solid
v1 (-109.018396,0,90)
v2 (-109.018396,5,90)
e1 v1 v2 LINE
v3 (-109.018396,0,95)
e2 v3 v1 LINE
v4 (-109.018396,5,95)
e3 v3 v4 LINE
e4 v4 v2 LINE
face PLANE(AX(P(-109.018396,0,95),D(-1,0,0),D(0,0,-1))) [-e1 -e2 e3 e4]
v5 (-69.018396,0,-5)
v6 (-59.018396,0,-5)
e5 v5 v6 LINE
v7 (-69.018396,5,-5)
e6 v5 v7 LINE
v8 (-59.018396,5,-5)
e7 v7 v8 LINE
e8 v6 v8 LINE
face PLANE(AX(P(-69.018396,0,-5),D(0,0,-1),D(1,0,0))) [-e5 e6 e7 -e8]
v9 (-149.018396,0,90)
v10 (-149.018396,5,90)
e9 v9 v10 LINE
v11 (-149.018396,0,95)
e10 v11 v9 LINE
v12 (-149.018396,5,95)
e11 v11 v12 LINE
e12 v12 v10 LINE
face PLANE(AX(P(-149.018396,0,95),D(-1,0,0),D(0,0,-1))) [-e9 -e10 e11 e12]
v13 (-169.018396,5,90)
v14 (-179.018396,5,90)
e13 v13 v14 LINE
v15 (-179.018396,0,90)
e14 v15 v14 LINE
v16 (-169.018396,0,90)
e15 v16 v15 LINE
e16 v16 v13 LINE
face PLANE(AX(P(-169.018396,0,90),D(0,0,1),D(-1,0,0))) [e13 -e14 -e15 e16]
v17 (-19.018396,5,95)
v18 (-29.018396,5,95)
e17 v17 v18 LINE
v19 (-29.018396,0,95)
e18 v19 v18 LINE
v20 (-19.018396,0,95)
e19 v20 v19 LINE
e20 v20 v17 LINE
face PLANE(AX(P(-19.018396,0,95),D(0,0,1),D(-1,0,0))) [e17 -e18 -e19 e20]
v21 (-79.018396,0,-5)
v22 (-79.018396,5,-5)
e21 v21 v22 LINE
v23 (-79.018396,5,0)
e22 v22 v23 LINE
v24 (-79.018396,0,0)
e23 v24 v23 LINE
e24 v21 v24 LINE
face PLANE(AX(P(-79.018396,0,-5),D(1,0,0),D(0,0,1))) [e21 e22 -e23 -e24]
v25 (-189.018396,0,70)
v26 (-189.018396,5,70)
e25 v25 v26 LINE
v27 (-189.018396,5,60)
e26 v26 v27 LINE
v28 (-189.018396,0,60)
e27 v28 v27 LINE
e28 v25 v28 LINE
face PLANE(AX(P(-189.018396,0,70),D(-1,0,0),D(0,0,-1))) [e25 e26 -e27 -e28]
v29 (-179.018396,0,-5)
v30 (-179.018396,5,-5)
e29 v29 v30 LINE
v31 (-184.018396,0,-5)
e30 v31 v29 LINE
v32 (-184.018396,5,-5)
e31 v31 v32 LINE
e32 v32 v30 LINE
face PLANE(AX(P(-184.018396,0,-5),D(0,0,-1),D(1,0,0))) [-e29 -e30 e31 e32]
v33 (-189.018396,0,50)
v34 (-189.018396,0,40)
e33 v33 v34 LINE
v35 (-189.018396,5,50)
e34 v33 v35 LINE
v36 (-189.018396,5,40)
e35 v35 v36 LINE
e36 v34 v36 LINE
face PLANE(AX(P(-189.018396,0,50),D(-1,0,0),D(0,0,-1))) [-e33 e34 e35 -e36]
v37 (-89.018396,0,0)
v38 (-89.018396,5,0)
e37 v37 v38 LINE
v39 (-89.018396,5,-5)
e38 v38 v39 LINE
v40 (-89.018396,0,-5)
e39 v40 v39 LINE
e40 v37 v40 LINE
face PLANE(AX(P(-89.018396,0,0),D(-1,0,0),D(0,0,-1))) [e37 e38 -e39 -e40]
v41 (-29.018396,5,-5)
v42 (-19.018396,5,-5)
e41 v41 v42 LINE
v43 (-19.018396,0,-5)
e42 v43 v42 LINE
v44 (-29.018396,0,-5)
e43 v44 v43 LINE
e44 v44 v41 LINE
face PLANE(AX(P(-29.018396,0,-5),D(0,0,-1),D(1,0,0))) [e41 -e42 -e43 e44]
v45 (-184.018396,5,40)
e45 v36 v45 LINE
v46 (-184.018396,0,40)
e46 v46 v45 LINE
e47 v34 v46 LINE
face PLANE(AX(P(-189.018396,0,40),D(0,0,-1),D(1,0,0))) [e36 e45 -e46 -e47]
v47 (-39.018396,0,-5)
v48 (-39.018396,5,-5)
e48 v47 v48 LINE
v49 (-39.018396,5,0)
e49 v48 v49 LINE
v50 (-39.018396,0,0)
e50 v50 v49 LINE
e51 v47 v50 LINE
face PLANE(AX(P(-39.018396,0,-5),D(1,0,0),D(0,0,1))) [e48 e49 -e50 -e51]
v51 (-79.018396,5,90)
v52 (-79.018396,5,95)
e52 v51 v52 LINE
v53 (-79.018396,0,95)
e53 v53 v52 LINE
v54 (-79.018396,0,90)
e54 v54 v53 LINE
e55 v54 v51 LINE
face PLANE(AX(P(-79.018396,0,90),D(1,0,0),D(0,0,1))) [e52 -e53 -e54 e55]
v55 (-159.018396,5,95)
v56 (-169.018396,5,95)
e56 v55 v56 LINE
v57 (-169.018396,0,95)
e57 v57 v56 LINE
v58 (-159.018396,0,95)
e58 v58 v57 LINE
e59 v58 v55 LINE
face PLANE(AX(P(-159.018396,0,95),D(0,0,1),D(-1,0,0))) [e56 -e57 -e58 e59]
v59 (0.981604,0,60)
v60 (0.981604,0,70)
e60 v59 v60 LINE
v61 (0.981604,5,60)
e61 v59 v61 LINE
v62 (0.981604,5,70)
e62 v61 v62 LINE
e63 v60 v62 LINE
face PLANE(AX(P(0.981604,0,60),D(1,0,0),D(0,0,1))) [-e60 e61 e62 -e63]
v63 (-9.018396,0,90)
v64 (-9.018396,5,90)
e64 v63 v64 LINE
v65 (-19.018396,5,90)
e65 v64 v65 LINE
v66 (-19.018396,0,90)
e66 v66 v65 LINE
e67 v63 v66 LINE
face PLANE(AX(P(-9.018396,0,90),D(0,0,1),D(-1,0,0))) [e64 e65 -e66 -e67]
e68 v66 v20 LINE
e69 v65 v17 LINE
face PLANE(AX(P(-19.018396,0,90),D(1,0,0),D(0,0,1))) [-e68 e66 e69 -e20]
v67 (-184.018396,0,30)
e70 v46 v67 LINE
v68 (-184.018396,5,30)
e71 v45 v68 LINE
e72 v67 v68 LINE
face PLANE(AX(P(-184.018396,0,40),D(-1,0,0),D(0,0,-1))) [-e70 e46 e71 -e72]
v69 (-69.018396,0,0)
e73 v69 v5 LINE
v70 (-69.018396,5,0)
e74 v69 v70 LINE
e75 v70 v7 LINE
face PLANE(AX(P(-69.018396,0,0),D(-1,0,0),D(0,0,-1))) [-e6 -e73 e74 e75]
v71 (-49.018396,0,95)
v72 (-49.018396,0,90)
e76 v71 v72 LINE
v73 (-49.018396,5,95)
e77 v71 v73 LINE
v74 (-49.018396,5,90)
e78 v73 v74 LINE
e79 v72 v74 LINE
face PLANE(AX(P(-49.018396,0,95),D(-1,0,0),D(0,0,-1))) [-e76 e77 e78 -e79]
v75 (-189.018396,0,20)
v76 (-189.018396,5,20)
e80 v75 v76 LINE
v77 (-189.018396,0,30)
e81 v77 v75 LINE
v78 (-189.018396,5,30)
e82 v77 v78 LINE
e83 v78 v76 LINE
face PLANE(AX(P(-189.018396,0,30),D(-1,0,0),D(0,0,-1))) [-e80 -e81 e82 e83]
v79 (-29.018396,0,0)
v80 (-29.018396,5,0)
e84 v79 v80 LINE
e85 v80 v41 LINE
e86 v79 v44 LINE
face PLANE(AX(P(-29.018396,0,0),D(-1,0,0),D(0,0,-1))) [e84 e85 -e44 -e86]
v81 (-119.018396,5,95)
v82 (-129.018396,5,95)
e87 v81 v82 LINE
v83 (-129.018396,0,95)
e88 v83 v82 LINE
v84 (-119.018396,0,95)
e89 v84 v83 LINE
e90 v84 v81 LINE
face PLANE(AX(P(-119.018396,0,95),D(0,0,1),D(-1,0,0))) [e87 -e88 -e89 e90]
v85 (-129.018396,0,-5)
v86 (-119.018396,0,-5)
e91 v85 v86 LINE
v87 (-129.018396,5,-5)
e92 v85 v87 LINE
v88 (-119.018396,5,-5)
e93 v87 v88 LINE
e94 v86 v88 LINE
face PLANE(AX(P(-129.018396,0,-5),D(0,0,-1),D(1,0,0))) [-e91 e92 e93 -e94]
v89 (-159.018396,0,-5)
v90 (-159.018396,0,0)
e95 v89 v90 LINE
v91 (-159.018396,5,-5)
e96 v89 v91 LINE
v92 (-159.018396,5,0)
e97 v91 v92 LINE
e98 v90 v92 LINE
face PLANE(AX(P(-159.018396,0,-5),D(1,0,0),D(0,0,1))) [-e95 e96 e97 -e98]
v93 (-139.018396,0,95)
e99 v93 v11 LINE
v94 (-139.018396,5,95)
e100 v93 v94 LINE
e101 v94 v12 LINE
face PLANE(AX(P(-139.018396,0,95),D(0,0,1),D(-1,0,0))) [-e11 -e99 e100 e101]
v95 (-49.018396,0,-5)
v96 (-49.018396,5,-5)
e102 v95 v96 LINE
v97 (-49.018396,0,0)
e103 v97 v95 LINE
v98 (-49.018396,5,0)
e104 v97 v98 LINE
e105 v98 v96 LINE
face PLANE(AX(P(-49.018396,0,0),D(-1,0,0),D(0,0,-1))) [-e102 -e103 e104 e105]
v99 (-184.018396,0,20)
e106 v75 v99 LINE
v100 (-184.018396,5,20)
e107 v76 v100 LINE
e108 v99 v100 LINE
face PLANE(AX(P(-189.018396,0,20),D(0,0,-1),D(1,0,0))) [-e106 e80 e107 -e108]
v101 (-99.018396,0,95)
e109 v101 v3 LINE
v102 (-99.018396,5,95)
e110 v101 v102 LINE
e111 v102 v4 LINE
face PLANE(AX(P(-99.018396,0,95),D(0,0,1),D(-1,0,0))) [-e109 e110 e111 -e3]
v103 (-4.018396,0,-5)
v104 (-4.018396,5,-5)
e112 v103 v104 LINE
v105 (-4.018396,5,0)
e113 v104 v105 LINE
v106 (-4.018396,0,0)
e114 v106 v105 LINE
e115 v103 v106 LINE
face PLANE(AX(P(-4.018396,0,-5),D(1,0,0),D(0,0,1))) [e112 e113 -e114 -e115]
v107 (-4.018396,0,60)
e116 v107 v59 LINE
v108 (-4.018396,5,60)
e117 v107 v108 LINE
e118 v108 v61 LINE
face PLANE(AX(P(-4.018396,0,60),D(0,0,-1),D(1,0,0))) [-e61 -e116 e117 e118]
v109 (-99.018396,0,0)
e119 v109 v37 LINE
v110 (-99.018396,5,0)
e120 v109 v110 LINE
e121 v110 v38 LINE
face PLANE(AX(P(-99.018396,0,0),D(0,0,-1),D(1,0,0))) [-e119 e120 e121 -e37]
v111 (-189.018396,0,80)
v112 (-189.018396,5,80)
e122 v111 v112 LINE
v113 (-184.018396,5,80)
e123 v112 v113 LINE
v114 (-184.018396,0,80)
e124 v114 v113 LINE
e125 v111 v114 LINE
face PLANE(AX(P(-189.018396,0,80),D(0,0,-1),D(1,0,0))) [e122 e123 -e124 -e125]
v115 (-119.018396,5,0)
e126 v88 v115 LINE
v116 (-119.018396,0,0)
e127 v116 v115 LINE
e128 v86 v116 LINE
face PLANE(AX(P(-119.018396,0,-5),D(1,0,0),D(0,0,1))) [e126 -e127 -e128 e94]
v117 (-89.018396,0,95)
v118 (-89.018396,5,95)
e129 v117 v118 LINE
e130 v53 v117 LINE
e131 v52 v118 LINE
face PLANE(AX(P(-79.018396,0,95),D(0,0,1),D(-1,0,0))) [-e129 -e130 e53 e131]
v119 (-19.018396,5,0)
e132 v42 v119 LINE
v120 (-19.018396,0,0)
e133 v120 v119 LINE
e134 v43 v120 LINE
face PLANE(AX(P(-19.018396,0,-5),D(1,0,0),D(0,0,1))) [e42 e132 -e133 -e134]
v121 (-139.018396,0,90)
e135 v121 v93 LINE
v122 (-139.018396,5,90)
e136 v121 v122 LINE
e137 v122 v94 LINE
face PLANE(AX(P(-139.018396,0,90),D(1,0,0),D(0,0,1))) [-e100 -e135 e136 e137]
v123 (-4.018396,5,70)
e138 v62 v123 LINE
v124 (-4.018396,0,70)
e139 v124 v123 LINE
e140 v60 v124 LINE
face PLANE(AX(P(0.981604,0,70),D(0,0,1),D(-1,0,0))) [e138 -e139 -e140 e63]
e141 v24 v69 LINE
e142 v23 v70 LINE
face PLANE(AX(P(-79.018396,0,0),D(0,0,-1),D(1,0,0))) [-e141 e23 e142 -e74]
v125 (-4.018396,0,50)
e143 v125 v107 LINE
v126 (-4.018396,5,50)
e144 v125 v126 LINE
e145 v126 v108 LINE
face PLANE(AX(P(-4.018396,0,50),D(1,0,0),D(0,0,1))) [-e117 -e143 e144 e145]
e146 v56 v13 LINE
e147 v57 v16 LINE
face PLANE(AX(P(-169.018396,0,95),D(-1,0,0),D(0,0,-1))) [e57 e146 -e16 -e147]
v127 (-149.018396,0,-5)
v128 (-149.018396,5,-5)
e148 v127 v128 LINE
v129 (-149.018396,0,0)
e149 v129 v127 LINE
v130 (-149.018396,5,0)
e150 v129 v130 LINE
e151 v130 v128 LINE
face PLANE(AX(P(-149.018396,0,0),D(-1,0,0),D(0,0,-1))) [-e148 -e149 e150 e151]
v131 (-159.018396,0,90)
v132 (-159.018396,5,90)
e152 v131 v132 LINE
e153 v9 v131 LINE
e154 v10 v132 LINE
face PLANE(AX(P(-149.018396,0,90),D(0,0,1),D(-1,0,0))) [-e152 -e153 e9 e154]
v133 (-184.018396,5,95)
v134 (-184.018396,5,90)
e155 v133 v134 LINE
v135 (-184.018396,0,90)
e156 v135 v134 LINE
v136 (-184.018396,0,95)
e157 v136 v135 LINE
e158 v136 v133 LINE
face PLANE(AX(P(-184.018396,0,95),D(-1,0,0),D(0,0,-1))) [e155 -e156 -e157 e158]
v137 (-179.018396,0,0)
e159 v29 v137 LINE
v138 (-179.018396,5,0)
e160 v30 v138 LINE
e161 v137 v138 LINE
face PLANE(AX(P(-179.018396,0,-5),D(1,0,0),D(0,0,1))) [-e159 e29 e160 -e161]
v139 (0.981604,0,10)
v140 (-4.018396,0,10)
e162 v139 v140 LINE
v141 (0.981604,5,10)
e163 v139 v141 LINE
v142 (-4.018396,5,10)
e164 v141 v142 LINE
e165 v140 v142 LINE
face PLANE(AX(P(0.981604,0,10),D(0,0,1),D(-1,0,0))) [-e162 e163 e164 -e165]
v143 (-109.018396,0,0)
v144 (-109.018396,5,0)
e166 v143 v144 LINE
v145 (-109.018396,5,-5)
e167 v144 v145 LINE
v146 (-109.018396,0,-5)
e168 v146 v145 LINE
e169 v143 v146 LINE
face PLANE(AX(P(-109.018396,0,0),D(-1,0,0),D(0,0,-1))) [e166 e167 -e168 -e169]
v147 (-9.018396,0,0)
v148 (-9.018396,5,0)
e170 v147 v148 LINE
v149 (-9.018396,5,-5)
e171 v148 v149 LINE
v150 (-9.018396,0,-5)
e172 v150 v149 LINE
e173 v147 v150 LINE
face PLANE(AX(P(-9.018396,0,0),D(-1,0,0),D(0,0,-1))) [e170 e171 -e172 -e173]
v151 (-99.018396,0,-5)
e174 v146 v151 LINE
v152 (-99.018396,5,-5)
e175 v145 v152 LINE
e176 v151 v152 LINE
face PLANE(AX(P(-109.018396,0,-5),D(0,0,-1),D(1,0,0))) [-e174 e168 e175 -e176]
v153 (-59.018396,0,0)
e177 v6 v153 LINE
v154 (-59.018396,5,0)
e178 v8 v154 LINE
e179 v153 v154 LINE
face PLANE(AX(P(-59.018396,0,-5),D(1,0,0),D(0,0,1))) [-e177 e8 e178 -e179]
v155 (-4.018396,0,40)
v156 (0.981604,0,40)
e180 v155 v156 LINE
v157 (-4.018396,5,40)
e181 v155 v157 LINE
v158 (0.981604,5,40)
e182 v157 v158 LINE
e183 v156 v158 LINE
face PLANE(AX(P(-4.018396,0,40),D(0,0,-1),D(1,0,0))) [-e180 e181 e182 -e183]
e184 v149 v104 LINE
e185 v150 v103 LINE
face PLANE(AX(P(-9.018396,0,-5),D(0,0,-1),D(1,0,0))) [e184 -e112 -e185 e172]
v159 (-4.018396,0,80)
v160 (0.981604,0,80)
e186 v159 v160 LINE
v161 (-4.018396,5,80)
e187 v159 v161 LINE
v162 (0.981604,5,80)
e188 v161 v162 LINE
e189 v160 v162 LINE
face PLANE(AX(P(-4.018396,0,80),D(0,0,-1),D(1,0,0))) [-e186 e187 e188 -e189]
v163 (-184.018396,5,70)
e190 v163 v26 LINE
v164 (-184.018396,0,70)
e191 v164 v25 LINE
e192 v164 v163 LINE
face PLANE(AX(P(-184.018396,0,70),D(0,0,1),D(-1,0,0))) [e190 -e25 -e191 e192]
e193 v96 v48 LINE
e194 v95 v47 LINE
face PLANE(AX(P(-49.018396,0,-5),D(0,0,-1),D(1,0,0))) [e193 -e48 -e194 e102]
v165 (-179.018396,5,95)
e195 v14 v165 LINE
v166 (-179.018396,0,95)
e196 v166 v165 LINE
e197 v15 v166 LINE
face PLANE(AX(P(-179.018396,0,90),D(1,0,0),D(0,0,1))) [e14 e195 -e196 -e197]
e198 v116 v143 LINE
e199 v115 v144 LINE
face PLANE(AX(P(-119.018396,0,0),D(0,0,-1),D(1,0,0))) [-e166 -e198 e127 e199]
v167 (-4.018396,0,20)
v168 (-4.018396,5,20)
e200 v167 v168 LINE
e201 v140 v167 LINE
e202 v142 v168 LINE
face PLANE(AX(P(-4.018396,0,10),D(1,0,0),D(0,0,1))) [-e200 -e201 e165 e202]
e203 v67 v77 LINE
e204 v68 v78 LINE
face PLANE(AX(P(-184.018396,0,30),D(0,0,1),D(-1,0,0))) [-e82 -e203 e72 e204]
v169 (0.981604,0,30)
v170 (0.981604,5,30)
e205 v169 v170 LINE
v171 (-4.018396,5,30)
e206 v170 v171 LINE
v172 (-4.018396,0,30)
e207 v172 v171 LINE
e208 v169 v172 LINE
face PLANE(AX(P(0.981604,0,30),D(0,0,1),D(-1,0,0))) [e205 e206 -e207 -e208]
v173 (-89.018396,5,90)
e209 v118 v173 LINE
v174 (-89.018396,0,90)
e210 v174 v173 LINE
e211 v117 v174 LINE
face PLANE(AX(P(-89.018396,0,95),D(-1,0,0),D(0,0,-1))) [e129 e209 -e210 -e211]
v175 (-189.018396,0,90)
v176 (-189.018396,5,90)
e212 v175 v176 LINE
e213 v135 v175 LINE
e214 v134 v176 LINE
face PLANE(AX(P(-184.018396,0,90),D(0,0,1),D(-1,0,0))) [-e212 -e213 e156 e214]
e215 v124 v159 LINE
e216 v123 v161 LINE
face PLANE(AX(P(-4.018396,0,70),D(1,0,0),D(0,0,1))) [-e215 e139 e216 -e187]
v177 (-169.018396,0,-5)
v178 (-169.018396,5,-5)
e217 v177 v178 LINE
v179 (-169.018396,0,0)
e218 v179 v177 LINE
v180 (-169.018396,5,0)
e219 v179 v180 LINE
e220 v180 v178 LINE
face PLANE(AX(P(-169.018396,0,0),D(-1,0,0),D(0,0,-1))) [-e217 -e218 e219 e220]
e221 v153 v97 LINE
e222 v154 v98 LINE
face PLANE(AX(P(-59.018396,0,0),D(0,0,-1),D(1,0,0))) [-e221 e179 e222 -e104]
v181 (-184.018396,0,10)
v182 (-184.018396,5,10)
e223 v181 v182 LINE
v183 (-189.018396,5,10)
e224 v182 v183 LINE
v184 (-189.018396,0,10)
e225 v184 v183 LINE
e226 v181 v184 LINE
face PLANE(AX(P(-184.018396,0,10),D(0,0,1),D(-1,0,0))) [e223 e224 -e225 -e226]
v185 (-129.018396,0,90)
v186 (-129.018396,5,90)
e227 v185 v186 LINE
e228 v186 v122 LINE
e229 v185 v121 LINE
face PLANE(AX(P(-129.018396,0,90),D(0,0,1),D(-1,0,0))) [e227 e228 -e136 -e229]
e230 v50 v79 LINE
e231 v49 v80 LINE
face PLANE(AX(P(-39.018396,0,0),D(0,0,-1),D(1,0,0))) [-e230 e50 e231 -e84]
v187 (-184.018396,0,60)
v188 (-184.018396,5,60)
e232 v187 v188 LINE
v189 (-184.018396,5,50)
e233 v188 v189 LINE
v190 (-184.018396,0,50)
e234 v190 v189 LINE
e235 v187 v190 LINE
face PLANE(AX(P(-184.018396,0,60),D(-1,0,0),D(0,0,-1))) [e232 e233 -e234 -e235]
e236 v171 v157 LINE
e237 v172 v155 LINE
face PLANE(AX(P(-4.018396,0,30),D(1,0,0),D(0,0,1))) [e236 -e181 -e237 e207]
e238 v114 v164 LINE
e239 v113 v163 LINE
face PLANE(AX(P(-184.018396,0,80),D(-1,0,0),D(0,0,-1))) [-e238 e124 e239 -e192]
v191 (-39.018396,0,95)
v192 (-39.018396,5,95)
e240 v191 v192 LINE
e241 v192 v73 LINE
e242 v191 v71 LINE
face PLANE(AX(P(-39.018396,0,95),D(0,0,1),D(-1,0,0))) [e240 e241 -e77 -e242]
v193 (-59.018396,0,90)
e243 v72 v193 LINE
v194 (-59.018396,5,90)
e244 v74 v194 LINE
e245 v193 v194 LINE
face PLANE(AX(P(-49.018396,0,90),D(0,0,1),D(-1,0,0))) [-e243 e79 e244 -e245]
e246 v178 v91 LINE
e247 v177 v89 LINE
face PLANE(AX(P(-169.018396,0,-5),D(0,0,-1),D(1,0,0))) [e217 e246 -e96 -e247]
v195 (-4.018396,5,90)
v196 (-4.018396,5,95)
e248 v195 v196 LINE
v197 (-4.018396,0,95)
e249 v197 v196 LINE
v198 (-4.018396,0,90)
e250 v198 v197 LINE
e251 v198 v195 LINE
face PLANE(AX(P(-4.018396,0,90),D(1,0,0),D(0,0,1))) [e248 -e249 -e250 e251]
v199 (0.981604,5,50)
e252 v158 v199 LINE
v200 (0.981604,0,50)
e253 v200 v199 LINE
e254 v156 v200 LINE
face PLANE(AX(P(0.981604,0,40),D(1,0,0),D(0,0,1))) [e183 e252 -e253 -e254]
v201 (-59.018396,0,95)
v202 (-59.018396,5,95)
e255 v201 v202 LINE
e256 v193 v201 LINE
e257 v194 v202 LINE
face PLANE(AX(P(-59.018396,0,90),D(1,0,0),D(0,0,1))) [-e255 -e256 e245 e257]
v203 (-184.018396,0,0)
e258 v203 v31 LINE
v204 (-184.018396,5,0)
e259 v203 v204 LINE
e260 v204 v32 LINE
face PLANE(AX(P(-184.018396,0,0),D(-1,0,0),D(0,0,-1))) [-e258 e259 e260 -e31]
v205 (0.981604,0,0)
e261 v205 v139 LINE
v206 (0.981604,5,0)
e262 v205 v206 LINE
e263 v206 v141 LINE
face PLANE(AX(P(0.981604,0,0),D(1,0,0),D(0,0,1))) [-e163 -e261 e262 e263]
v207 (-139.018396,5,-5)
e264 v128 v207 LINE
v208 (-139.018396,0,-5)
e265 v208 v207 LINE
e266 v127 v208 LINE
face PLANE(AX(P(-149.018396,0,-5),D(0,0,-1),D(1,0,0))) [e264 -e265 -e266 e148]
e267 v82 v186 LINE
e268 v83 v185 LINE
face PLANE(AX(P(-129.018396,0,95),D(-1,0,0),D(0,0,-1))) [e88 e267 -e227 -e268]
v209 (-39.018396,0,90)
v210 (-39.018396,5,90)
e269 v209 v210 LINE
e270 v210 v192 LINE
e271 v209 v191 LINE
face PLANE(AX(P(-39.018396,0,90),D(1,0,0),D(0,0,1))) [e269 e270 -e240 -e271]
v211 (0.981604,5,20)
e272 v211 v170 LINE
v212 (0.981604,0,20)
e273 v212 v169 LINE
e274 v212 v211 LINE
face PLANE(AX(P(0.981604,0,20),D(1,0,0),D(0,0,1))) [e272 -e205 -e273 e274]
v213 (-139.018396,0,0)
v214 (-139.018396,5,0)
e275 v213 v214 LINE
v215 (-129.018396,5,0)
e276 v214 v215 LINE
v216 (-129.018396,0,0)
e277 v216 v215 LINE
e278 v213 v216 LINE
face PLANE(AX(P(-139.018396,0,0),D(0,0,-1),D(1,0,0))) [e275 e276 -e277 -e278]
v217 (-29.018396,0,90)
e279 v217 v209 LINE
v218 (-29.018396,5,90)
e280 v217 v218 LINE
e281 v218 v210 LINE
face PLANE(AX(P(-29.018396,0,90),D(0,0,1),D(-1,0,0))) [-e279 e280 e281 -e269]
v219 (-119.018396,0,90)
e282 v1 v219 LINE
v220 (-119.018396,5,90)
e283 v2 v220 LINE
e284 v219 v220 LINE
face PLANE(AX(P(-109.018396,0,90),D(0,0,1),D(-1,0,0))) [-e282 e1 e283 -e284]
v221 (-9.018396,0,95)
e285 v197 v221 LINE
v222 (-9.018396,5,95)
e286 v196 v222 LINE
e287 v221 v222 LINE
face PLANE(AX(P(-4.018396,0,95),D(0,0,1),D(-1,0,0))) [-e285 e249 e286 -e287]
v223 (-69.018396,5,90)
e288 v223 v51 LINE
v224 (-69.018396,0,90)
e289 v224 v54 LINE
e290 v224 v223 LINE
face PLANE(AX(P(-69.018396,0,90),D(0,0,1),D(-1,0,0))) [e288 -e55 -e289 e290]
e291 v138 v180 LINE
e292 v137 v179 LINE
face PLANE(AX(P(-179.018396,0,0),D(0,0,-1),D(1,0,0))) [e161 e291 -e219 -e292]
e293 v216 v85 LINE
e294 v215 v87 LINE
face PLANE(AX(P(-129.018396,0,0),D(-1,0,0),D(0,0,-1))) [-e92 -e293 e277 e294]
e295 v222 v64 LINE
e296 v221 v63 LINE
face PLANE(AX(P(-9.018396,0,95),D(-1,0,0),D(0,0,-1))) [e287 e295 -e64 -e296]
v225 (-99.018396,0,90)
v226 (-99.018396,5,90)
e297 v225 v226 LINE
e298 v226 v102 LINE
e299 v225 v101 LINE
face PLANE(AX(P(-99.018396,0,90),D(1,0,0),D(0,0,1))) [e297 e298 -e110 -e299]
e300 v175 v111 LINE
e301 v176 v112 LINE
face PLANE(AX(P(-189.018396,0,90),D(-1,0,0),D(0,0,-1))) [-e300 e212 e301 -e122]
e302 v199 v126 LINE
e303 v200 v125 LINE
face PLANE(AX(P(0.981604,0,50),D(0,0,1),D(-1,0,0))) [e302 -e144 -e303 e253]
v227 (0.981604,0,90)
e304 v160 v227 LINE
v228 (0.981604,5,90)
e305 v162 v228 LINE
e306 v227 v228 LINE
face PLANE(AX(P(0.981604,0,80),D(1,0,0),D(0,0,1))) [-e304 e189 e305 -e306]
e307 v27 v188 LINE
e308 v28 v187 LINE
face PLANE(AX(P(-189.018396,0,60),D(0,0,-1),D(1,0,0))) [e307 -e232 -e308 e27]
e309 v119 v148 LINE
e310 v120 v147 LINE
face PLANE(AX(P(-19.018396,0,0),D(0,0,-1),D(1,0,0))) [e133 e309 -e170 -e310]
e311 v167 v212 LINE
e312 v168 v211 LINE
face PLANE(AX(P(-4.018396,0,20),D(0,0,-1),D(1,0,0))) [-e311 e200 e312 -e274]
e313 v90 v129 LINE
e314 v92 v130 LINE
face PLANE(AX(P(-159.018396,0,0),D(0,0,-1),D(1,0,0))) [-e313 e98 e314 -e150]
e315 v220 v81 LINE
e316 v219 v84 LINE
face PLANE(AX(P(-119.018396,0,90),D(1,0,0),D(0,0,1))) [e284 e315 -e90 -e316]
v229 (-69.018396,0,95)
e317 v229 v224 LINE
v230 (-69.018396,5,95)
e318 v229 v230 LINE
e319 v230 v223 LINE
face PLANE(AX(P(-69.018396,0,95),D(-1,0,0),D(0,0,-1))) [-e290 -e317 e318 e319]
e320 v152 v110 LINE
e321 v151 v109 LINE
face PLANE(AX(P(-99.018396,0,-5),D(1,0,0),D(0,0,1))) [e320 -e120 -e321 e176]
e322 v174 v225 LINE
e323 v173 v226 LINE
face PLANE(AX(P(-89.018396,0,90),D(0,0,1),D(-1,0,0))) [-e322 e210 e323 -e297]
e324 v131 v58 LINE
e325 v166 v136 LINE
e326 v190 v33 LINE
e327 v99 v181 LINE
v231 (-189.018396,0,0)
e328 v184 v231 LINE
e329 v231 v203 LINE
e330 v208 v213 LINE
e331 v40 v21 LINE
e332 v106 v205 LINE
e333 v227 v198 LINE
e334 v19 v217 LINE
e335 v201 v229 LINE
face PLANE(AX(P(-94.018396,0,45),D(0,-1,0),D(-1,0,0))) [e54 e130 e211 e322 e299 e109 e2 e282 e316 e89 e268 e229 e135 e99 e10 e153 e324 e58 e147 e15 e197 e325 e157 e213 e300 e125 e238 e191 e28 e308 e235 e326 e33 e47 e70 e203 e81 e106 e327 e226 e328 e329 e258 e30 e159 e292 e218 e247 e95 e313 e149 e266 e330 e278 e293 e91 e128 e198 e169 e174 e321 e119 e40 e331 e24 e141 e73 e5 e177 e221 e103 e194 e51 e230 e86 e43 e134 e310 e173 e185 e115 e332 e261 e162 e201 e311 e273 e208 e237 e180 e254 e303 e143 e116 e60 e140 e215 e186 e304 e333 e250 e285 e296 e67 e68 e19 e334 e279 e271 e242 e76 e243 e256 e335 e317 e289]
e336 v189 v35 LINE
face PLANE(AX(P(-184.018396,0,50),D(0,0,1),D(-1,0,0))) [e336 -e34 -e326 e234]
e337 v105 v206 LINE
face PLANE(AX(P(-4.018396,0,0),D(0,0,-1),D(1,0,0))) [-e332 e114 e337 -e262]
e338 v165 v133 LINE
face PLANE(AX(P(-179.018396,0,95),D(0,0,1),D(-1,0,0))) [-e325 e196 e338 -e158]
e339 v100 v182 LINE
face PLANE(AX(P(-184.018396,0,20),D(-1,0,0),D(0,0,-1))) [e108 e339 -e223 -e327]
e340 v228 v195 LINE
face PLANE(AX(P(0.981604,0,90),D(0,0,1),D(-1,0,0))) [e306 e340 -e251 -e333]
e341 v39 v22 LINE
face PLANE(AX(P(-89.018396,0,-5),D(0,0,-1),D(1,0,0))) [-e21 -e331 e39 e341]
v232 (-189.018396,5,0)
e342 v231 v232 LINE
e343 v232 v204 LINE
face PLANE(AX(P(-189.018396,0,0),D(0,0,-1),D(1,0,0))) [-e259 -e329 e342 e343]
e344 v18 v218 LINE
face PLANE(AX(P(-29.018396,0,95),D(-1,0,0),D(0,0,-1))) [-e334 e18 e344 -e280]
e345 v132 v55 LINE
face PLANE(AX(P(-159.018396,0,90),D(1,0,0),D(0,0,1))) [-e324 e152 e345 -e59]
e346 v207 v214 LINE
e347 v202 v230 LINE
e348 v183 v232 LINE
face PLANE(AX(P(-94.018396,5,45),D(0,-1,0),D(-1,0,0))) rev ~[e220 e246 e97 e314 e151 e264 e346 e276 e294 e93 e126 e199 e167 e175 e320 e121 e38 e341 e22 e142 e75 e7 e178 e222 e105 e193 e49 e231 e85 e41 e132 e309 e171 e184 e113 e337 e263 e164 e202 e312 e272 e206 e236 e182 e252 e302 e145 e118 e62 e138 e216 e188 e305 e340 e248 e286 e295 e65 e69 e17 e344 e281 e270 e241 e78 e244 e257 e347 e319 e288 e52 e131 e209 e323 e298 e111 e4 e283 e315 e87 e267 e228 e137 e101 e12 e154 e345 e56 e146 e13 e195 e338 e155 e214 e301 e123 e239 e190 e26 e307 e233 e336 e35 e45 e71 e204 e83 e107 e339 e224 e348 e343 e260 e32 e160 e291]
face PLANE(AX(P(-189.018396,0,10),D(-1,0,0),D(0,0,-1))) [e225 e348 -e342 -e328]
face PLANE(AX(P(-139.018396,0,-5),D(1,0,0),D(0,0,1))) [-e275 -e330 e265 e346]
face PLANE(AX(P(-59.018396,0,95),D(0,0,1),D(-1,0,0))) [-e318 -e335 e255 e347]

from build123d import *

# Parameters (mm, degrees)
BOSS_EXTRUDE3_DEPTH = 5


with BuildPart() as part:
    # Sketch2 → Boss-Extrude3 (new body)
    with BuildSketch(Plane(origin=(0, 0, 0), x_dir=(1, 0, 0), z_dir=(0, 1, 0))):
        Polygon((-4.018396485, -10), (-4.018396485, -20), (0.981603515, -20), (0.981603515, -30), (-4.018396485, -30), (-4.018396485, -40), (0.981603515, -40), (0.981603515, -50), (-4.018396485, -50), (-4.018396485, -60), (0.981603515, -60), (0.981603515, -70), (-4.018396485, -70), (-4.018396485, -80), (0.981603515, -80), (0.981603515, -90), (-4.018396485, -90), (-4.018396485, -95), (-9.018396485, -95), (-9.018396485, -90), (-19.018396485, -90), (-19.018396485, -95), (-29.018396485, -95), (-29.018396485, -90), (-39.018396485, -90), (-39.018396485, -95), (-49.018396485, -95), (-49.018396485, -90), (-59.018396485, -90), (-59.018396485, -95), (-69.018396485, -95), (-69.018396485, -90), (-79.018396485, -90), (-79.018396485, -95), (-89.018396485, -95), (-89.018396485, -90), (-99.018396485, -90), (-99.018396485, -95), (-109.018396485, -95), (-109.018396485, -90), (-119.018396485, -90), (-119.018396485, -95), (-129.018396485, -95), (-129.018396485, -90), (-139.018396485, -90), (-139.018396485, -95), (-149.018396485, -95), (-149.018396485, -90), (-159.018396485, -90), (-159.018396485, -95), (-169.018396485, -95), (-169.018396485, -90), (-179.018396485, -90), (-179.018396485, -95), (-184.018396485, -95), (-184.018396485, -90), (-189.018396485, -90), (-189.018396485, -80), (-184.018396485, -80), (-184.018396485, -70), (-189.018396485, -70), (-189.018396485, -60), (-184.018396485, -60), (-184.018396485, -50), (-189.018396485, -50), (-189.018396485, -40), (-184.018396485, -40), (-184.018396485, -30), (-189.018396485, -30), (-189.018396485, -20), (-184.018396485, -20), (-184.018396485, -10), (-189.018396485, -10), (-189.018396485, 0), (-184.018396485, 0), (-184.018396485, 5), (-179.018396485, 5), (-179.018396485, 0), (-169.018396485, 0), (-169.018396485, 5), (-159.018396485, 5), (-159.018396485, 0), (-149.018396485, 0), (-149.018396485, 5), (-139.018396485, 5), (-139.018396485, 0), (-129.018396485, 0), (-129.018396485, 5), (-119.018396485, 5), (-119.018396485, 0), (-109.018396485, 0), (-109.018396485, 5), (-99.018396485, 5), (-99.018396485, 0), (-89.018396485, 0), (-89.018396485, 5), (-79.018396485, 5), (-79.018396485, 0), (-69.018396485, 0), (-69.018396485, 5), (-59.018396485, 5), (-59.018396485, 0), (-49.018396485, 0), (-49.018396485, 5), (-39.018396485, 5), (-39.018396485, 0), (-29.018396485, 0), (-29.018396485, 5), (-19.018396485, 5), (-19.018396485, 0), (-9.018396485, 0), (-9.018396485, 5), (-4.018396485, 5), (-4.018396485, 0), (0.981603515, 0), (0.981603515, -10), align=None)
    extrude(amount=BOSS_EXTRUDE3_DEPTH)


solid = part.part
